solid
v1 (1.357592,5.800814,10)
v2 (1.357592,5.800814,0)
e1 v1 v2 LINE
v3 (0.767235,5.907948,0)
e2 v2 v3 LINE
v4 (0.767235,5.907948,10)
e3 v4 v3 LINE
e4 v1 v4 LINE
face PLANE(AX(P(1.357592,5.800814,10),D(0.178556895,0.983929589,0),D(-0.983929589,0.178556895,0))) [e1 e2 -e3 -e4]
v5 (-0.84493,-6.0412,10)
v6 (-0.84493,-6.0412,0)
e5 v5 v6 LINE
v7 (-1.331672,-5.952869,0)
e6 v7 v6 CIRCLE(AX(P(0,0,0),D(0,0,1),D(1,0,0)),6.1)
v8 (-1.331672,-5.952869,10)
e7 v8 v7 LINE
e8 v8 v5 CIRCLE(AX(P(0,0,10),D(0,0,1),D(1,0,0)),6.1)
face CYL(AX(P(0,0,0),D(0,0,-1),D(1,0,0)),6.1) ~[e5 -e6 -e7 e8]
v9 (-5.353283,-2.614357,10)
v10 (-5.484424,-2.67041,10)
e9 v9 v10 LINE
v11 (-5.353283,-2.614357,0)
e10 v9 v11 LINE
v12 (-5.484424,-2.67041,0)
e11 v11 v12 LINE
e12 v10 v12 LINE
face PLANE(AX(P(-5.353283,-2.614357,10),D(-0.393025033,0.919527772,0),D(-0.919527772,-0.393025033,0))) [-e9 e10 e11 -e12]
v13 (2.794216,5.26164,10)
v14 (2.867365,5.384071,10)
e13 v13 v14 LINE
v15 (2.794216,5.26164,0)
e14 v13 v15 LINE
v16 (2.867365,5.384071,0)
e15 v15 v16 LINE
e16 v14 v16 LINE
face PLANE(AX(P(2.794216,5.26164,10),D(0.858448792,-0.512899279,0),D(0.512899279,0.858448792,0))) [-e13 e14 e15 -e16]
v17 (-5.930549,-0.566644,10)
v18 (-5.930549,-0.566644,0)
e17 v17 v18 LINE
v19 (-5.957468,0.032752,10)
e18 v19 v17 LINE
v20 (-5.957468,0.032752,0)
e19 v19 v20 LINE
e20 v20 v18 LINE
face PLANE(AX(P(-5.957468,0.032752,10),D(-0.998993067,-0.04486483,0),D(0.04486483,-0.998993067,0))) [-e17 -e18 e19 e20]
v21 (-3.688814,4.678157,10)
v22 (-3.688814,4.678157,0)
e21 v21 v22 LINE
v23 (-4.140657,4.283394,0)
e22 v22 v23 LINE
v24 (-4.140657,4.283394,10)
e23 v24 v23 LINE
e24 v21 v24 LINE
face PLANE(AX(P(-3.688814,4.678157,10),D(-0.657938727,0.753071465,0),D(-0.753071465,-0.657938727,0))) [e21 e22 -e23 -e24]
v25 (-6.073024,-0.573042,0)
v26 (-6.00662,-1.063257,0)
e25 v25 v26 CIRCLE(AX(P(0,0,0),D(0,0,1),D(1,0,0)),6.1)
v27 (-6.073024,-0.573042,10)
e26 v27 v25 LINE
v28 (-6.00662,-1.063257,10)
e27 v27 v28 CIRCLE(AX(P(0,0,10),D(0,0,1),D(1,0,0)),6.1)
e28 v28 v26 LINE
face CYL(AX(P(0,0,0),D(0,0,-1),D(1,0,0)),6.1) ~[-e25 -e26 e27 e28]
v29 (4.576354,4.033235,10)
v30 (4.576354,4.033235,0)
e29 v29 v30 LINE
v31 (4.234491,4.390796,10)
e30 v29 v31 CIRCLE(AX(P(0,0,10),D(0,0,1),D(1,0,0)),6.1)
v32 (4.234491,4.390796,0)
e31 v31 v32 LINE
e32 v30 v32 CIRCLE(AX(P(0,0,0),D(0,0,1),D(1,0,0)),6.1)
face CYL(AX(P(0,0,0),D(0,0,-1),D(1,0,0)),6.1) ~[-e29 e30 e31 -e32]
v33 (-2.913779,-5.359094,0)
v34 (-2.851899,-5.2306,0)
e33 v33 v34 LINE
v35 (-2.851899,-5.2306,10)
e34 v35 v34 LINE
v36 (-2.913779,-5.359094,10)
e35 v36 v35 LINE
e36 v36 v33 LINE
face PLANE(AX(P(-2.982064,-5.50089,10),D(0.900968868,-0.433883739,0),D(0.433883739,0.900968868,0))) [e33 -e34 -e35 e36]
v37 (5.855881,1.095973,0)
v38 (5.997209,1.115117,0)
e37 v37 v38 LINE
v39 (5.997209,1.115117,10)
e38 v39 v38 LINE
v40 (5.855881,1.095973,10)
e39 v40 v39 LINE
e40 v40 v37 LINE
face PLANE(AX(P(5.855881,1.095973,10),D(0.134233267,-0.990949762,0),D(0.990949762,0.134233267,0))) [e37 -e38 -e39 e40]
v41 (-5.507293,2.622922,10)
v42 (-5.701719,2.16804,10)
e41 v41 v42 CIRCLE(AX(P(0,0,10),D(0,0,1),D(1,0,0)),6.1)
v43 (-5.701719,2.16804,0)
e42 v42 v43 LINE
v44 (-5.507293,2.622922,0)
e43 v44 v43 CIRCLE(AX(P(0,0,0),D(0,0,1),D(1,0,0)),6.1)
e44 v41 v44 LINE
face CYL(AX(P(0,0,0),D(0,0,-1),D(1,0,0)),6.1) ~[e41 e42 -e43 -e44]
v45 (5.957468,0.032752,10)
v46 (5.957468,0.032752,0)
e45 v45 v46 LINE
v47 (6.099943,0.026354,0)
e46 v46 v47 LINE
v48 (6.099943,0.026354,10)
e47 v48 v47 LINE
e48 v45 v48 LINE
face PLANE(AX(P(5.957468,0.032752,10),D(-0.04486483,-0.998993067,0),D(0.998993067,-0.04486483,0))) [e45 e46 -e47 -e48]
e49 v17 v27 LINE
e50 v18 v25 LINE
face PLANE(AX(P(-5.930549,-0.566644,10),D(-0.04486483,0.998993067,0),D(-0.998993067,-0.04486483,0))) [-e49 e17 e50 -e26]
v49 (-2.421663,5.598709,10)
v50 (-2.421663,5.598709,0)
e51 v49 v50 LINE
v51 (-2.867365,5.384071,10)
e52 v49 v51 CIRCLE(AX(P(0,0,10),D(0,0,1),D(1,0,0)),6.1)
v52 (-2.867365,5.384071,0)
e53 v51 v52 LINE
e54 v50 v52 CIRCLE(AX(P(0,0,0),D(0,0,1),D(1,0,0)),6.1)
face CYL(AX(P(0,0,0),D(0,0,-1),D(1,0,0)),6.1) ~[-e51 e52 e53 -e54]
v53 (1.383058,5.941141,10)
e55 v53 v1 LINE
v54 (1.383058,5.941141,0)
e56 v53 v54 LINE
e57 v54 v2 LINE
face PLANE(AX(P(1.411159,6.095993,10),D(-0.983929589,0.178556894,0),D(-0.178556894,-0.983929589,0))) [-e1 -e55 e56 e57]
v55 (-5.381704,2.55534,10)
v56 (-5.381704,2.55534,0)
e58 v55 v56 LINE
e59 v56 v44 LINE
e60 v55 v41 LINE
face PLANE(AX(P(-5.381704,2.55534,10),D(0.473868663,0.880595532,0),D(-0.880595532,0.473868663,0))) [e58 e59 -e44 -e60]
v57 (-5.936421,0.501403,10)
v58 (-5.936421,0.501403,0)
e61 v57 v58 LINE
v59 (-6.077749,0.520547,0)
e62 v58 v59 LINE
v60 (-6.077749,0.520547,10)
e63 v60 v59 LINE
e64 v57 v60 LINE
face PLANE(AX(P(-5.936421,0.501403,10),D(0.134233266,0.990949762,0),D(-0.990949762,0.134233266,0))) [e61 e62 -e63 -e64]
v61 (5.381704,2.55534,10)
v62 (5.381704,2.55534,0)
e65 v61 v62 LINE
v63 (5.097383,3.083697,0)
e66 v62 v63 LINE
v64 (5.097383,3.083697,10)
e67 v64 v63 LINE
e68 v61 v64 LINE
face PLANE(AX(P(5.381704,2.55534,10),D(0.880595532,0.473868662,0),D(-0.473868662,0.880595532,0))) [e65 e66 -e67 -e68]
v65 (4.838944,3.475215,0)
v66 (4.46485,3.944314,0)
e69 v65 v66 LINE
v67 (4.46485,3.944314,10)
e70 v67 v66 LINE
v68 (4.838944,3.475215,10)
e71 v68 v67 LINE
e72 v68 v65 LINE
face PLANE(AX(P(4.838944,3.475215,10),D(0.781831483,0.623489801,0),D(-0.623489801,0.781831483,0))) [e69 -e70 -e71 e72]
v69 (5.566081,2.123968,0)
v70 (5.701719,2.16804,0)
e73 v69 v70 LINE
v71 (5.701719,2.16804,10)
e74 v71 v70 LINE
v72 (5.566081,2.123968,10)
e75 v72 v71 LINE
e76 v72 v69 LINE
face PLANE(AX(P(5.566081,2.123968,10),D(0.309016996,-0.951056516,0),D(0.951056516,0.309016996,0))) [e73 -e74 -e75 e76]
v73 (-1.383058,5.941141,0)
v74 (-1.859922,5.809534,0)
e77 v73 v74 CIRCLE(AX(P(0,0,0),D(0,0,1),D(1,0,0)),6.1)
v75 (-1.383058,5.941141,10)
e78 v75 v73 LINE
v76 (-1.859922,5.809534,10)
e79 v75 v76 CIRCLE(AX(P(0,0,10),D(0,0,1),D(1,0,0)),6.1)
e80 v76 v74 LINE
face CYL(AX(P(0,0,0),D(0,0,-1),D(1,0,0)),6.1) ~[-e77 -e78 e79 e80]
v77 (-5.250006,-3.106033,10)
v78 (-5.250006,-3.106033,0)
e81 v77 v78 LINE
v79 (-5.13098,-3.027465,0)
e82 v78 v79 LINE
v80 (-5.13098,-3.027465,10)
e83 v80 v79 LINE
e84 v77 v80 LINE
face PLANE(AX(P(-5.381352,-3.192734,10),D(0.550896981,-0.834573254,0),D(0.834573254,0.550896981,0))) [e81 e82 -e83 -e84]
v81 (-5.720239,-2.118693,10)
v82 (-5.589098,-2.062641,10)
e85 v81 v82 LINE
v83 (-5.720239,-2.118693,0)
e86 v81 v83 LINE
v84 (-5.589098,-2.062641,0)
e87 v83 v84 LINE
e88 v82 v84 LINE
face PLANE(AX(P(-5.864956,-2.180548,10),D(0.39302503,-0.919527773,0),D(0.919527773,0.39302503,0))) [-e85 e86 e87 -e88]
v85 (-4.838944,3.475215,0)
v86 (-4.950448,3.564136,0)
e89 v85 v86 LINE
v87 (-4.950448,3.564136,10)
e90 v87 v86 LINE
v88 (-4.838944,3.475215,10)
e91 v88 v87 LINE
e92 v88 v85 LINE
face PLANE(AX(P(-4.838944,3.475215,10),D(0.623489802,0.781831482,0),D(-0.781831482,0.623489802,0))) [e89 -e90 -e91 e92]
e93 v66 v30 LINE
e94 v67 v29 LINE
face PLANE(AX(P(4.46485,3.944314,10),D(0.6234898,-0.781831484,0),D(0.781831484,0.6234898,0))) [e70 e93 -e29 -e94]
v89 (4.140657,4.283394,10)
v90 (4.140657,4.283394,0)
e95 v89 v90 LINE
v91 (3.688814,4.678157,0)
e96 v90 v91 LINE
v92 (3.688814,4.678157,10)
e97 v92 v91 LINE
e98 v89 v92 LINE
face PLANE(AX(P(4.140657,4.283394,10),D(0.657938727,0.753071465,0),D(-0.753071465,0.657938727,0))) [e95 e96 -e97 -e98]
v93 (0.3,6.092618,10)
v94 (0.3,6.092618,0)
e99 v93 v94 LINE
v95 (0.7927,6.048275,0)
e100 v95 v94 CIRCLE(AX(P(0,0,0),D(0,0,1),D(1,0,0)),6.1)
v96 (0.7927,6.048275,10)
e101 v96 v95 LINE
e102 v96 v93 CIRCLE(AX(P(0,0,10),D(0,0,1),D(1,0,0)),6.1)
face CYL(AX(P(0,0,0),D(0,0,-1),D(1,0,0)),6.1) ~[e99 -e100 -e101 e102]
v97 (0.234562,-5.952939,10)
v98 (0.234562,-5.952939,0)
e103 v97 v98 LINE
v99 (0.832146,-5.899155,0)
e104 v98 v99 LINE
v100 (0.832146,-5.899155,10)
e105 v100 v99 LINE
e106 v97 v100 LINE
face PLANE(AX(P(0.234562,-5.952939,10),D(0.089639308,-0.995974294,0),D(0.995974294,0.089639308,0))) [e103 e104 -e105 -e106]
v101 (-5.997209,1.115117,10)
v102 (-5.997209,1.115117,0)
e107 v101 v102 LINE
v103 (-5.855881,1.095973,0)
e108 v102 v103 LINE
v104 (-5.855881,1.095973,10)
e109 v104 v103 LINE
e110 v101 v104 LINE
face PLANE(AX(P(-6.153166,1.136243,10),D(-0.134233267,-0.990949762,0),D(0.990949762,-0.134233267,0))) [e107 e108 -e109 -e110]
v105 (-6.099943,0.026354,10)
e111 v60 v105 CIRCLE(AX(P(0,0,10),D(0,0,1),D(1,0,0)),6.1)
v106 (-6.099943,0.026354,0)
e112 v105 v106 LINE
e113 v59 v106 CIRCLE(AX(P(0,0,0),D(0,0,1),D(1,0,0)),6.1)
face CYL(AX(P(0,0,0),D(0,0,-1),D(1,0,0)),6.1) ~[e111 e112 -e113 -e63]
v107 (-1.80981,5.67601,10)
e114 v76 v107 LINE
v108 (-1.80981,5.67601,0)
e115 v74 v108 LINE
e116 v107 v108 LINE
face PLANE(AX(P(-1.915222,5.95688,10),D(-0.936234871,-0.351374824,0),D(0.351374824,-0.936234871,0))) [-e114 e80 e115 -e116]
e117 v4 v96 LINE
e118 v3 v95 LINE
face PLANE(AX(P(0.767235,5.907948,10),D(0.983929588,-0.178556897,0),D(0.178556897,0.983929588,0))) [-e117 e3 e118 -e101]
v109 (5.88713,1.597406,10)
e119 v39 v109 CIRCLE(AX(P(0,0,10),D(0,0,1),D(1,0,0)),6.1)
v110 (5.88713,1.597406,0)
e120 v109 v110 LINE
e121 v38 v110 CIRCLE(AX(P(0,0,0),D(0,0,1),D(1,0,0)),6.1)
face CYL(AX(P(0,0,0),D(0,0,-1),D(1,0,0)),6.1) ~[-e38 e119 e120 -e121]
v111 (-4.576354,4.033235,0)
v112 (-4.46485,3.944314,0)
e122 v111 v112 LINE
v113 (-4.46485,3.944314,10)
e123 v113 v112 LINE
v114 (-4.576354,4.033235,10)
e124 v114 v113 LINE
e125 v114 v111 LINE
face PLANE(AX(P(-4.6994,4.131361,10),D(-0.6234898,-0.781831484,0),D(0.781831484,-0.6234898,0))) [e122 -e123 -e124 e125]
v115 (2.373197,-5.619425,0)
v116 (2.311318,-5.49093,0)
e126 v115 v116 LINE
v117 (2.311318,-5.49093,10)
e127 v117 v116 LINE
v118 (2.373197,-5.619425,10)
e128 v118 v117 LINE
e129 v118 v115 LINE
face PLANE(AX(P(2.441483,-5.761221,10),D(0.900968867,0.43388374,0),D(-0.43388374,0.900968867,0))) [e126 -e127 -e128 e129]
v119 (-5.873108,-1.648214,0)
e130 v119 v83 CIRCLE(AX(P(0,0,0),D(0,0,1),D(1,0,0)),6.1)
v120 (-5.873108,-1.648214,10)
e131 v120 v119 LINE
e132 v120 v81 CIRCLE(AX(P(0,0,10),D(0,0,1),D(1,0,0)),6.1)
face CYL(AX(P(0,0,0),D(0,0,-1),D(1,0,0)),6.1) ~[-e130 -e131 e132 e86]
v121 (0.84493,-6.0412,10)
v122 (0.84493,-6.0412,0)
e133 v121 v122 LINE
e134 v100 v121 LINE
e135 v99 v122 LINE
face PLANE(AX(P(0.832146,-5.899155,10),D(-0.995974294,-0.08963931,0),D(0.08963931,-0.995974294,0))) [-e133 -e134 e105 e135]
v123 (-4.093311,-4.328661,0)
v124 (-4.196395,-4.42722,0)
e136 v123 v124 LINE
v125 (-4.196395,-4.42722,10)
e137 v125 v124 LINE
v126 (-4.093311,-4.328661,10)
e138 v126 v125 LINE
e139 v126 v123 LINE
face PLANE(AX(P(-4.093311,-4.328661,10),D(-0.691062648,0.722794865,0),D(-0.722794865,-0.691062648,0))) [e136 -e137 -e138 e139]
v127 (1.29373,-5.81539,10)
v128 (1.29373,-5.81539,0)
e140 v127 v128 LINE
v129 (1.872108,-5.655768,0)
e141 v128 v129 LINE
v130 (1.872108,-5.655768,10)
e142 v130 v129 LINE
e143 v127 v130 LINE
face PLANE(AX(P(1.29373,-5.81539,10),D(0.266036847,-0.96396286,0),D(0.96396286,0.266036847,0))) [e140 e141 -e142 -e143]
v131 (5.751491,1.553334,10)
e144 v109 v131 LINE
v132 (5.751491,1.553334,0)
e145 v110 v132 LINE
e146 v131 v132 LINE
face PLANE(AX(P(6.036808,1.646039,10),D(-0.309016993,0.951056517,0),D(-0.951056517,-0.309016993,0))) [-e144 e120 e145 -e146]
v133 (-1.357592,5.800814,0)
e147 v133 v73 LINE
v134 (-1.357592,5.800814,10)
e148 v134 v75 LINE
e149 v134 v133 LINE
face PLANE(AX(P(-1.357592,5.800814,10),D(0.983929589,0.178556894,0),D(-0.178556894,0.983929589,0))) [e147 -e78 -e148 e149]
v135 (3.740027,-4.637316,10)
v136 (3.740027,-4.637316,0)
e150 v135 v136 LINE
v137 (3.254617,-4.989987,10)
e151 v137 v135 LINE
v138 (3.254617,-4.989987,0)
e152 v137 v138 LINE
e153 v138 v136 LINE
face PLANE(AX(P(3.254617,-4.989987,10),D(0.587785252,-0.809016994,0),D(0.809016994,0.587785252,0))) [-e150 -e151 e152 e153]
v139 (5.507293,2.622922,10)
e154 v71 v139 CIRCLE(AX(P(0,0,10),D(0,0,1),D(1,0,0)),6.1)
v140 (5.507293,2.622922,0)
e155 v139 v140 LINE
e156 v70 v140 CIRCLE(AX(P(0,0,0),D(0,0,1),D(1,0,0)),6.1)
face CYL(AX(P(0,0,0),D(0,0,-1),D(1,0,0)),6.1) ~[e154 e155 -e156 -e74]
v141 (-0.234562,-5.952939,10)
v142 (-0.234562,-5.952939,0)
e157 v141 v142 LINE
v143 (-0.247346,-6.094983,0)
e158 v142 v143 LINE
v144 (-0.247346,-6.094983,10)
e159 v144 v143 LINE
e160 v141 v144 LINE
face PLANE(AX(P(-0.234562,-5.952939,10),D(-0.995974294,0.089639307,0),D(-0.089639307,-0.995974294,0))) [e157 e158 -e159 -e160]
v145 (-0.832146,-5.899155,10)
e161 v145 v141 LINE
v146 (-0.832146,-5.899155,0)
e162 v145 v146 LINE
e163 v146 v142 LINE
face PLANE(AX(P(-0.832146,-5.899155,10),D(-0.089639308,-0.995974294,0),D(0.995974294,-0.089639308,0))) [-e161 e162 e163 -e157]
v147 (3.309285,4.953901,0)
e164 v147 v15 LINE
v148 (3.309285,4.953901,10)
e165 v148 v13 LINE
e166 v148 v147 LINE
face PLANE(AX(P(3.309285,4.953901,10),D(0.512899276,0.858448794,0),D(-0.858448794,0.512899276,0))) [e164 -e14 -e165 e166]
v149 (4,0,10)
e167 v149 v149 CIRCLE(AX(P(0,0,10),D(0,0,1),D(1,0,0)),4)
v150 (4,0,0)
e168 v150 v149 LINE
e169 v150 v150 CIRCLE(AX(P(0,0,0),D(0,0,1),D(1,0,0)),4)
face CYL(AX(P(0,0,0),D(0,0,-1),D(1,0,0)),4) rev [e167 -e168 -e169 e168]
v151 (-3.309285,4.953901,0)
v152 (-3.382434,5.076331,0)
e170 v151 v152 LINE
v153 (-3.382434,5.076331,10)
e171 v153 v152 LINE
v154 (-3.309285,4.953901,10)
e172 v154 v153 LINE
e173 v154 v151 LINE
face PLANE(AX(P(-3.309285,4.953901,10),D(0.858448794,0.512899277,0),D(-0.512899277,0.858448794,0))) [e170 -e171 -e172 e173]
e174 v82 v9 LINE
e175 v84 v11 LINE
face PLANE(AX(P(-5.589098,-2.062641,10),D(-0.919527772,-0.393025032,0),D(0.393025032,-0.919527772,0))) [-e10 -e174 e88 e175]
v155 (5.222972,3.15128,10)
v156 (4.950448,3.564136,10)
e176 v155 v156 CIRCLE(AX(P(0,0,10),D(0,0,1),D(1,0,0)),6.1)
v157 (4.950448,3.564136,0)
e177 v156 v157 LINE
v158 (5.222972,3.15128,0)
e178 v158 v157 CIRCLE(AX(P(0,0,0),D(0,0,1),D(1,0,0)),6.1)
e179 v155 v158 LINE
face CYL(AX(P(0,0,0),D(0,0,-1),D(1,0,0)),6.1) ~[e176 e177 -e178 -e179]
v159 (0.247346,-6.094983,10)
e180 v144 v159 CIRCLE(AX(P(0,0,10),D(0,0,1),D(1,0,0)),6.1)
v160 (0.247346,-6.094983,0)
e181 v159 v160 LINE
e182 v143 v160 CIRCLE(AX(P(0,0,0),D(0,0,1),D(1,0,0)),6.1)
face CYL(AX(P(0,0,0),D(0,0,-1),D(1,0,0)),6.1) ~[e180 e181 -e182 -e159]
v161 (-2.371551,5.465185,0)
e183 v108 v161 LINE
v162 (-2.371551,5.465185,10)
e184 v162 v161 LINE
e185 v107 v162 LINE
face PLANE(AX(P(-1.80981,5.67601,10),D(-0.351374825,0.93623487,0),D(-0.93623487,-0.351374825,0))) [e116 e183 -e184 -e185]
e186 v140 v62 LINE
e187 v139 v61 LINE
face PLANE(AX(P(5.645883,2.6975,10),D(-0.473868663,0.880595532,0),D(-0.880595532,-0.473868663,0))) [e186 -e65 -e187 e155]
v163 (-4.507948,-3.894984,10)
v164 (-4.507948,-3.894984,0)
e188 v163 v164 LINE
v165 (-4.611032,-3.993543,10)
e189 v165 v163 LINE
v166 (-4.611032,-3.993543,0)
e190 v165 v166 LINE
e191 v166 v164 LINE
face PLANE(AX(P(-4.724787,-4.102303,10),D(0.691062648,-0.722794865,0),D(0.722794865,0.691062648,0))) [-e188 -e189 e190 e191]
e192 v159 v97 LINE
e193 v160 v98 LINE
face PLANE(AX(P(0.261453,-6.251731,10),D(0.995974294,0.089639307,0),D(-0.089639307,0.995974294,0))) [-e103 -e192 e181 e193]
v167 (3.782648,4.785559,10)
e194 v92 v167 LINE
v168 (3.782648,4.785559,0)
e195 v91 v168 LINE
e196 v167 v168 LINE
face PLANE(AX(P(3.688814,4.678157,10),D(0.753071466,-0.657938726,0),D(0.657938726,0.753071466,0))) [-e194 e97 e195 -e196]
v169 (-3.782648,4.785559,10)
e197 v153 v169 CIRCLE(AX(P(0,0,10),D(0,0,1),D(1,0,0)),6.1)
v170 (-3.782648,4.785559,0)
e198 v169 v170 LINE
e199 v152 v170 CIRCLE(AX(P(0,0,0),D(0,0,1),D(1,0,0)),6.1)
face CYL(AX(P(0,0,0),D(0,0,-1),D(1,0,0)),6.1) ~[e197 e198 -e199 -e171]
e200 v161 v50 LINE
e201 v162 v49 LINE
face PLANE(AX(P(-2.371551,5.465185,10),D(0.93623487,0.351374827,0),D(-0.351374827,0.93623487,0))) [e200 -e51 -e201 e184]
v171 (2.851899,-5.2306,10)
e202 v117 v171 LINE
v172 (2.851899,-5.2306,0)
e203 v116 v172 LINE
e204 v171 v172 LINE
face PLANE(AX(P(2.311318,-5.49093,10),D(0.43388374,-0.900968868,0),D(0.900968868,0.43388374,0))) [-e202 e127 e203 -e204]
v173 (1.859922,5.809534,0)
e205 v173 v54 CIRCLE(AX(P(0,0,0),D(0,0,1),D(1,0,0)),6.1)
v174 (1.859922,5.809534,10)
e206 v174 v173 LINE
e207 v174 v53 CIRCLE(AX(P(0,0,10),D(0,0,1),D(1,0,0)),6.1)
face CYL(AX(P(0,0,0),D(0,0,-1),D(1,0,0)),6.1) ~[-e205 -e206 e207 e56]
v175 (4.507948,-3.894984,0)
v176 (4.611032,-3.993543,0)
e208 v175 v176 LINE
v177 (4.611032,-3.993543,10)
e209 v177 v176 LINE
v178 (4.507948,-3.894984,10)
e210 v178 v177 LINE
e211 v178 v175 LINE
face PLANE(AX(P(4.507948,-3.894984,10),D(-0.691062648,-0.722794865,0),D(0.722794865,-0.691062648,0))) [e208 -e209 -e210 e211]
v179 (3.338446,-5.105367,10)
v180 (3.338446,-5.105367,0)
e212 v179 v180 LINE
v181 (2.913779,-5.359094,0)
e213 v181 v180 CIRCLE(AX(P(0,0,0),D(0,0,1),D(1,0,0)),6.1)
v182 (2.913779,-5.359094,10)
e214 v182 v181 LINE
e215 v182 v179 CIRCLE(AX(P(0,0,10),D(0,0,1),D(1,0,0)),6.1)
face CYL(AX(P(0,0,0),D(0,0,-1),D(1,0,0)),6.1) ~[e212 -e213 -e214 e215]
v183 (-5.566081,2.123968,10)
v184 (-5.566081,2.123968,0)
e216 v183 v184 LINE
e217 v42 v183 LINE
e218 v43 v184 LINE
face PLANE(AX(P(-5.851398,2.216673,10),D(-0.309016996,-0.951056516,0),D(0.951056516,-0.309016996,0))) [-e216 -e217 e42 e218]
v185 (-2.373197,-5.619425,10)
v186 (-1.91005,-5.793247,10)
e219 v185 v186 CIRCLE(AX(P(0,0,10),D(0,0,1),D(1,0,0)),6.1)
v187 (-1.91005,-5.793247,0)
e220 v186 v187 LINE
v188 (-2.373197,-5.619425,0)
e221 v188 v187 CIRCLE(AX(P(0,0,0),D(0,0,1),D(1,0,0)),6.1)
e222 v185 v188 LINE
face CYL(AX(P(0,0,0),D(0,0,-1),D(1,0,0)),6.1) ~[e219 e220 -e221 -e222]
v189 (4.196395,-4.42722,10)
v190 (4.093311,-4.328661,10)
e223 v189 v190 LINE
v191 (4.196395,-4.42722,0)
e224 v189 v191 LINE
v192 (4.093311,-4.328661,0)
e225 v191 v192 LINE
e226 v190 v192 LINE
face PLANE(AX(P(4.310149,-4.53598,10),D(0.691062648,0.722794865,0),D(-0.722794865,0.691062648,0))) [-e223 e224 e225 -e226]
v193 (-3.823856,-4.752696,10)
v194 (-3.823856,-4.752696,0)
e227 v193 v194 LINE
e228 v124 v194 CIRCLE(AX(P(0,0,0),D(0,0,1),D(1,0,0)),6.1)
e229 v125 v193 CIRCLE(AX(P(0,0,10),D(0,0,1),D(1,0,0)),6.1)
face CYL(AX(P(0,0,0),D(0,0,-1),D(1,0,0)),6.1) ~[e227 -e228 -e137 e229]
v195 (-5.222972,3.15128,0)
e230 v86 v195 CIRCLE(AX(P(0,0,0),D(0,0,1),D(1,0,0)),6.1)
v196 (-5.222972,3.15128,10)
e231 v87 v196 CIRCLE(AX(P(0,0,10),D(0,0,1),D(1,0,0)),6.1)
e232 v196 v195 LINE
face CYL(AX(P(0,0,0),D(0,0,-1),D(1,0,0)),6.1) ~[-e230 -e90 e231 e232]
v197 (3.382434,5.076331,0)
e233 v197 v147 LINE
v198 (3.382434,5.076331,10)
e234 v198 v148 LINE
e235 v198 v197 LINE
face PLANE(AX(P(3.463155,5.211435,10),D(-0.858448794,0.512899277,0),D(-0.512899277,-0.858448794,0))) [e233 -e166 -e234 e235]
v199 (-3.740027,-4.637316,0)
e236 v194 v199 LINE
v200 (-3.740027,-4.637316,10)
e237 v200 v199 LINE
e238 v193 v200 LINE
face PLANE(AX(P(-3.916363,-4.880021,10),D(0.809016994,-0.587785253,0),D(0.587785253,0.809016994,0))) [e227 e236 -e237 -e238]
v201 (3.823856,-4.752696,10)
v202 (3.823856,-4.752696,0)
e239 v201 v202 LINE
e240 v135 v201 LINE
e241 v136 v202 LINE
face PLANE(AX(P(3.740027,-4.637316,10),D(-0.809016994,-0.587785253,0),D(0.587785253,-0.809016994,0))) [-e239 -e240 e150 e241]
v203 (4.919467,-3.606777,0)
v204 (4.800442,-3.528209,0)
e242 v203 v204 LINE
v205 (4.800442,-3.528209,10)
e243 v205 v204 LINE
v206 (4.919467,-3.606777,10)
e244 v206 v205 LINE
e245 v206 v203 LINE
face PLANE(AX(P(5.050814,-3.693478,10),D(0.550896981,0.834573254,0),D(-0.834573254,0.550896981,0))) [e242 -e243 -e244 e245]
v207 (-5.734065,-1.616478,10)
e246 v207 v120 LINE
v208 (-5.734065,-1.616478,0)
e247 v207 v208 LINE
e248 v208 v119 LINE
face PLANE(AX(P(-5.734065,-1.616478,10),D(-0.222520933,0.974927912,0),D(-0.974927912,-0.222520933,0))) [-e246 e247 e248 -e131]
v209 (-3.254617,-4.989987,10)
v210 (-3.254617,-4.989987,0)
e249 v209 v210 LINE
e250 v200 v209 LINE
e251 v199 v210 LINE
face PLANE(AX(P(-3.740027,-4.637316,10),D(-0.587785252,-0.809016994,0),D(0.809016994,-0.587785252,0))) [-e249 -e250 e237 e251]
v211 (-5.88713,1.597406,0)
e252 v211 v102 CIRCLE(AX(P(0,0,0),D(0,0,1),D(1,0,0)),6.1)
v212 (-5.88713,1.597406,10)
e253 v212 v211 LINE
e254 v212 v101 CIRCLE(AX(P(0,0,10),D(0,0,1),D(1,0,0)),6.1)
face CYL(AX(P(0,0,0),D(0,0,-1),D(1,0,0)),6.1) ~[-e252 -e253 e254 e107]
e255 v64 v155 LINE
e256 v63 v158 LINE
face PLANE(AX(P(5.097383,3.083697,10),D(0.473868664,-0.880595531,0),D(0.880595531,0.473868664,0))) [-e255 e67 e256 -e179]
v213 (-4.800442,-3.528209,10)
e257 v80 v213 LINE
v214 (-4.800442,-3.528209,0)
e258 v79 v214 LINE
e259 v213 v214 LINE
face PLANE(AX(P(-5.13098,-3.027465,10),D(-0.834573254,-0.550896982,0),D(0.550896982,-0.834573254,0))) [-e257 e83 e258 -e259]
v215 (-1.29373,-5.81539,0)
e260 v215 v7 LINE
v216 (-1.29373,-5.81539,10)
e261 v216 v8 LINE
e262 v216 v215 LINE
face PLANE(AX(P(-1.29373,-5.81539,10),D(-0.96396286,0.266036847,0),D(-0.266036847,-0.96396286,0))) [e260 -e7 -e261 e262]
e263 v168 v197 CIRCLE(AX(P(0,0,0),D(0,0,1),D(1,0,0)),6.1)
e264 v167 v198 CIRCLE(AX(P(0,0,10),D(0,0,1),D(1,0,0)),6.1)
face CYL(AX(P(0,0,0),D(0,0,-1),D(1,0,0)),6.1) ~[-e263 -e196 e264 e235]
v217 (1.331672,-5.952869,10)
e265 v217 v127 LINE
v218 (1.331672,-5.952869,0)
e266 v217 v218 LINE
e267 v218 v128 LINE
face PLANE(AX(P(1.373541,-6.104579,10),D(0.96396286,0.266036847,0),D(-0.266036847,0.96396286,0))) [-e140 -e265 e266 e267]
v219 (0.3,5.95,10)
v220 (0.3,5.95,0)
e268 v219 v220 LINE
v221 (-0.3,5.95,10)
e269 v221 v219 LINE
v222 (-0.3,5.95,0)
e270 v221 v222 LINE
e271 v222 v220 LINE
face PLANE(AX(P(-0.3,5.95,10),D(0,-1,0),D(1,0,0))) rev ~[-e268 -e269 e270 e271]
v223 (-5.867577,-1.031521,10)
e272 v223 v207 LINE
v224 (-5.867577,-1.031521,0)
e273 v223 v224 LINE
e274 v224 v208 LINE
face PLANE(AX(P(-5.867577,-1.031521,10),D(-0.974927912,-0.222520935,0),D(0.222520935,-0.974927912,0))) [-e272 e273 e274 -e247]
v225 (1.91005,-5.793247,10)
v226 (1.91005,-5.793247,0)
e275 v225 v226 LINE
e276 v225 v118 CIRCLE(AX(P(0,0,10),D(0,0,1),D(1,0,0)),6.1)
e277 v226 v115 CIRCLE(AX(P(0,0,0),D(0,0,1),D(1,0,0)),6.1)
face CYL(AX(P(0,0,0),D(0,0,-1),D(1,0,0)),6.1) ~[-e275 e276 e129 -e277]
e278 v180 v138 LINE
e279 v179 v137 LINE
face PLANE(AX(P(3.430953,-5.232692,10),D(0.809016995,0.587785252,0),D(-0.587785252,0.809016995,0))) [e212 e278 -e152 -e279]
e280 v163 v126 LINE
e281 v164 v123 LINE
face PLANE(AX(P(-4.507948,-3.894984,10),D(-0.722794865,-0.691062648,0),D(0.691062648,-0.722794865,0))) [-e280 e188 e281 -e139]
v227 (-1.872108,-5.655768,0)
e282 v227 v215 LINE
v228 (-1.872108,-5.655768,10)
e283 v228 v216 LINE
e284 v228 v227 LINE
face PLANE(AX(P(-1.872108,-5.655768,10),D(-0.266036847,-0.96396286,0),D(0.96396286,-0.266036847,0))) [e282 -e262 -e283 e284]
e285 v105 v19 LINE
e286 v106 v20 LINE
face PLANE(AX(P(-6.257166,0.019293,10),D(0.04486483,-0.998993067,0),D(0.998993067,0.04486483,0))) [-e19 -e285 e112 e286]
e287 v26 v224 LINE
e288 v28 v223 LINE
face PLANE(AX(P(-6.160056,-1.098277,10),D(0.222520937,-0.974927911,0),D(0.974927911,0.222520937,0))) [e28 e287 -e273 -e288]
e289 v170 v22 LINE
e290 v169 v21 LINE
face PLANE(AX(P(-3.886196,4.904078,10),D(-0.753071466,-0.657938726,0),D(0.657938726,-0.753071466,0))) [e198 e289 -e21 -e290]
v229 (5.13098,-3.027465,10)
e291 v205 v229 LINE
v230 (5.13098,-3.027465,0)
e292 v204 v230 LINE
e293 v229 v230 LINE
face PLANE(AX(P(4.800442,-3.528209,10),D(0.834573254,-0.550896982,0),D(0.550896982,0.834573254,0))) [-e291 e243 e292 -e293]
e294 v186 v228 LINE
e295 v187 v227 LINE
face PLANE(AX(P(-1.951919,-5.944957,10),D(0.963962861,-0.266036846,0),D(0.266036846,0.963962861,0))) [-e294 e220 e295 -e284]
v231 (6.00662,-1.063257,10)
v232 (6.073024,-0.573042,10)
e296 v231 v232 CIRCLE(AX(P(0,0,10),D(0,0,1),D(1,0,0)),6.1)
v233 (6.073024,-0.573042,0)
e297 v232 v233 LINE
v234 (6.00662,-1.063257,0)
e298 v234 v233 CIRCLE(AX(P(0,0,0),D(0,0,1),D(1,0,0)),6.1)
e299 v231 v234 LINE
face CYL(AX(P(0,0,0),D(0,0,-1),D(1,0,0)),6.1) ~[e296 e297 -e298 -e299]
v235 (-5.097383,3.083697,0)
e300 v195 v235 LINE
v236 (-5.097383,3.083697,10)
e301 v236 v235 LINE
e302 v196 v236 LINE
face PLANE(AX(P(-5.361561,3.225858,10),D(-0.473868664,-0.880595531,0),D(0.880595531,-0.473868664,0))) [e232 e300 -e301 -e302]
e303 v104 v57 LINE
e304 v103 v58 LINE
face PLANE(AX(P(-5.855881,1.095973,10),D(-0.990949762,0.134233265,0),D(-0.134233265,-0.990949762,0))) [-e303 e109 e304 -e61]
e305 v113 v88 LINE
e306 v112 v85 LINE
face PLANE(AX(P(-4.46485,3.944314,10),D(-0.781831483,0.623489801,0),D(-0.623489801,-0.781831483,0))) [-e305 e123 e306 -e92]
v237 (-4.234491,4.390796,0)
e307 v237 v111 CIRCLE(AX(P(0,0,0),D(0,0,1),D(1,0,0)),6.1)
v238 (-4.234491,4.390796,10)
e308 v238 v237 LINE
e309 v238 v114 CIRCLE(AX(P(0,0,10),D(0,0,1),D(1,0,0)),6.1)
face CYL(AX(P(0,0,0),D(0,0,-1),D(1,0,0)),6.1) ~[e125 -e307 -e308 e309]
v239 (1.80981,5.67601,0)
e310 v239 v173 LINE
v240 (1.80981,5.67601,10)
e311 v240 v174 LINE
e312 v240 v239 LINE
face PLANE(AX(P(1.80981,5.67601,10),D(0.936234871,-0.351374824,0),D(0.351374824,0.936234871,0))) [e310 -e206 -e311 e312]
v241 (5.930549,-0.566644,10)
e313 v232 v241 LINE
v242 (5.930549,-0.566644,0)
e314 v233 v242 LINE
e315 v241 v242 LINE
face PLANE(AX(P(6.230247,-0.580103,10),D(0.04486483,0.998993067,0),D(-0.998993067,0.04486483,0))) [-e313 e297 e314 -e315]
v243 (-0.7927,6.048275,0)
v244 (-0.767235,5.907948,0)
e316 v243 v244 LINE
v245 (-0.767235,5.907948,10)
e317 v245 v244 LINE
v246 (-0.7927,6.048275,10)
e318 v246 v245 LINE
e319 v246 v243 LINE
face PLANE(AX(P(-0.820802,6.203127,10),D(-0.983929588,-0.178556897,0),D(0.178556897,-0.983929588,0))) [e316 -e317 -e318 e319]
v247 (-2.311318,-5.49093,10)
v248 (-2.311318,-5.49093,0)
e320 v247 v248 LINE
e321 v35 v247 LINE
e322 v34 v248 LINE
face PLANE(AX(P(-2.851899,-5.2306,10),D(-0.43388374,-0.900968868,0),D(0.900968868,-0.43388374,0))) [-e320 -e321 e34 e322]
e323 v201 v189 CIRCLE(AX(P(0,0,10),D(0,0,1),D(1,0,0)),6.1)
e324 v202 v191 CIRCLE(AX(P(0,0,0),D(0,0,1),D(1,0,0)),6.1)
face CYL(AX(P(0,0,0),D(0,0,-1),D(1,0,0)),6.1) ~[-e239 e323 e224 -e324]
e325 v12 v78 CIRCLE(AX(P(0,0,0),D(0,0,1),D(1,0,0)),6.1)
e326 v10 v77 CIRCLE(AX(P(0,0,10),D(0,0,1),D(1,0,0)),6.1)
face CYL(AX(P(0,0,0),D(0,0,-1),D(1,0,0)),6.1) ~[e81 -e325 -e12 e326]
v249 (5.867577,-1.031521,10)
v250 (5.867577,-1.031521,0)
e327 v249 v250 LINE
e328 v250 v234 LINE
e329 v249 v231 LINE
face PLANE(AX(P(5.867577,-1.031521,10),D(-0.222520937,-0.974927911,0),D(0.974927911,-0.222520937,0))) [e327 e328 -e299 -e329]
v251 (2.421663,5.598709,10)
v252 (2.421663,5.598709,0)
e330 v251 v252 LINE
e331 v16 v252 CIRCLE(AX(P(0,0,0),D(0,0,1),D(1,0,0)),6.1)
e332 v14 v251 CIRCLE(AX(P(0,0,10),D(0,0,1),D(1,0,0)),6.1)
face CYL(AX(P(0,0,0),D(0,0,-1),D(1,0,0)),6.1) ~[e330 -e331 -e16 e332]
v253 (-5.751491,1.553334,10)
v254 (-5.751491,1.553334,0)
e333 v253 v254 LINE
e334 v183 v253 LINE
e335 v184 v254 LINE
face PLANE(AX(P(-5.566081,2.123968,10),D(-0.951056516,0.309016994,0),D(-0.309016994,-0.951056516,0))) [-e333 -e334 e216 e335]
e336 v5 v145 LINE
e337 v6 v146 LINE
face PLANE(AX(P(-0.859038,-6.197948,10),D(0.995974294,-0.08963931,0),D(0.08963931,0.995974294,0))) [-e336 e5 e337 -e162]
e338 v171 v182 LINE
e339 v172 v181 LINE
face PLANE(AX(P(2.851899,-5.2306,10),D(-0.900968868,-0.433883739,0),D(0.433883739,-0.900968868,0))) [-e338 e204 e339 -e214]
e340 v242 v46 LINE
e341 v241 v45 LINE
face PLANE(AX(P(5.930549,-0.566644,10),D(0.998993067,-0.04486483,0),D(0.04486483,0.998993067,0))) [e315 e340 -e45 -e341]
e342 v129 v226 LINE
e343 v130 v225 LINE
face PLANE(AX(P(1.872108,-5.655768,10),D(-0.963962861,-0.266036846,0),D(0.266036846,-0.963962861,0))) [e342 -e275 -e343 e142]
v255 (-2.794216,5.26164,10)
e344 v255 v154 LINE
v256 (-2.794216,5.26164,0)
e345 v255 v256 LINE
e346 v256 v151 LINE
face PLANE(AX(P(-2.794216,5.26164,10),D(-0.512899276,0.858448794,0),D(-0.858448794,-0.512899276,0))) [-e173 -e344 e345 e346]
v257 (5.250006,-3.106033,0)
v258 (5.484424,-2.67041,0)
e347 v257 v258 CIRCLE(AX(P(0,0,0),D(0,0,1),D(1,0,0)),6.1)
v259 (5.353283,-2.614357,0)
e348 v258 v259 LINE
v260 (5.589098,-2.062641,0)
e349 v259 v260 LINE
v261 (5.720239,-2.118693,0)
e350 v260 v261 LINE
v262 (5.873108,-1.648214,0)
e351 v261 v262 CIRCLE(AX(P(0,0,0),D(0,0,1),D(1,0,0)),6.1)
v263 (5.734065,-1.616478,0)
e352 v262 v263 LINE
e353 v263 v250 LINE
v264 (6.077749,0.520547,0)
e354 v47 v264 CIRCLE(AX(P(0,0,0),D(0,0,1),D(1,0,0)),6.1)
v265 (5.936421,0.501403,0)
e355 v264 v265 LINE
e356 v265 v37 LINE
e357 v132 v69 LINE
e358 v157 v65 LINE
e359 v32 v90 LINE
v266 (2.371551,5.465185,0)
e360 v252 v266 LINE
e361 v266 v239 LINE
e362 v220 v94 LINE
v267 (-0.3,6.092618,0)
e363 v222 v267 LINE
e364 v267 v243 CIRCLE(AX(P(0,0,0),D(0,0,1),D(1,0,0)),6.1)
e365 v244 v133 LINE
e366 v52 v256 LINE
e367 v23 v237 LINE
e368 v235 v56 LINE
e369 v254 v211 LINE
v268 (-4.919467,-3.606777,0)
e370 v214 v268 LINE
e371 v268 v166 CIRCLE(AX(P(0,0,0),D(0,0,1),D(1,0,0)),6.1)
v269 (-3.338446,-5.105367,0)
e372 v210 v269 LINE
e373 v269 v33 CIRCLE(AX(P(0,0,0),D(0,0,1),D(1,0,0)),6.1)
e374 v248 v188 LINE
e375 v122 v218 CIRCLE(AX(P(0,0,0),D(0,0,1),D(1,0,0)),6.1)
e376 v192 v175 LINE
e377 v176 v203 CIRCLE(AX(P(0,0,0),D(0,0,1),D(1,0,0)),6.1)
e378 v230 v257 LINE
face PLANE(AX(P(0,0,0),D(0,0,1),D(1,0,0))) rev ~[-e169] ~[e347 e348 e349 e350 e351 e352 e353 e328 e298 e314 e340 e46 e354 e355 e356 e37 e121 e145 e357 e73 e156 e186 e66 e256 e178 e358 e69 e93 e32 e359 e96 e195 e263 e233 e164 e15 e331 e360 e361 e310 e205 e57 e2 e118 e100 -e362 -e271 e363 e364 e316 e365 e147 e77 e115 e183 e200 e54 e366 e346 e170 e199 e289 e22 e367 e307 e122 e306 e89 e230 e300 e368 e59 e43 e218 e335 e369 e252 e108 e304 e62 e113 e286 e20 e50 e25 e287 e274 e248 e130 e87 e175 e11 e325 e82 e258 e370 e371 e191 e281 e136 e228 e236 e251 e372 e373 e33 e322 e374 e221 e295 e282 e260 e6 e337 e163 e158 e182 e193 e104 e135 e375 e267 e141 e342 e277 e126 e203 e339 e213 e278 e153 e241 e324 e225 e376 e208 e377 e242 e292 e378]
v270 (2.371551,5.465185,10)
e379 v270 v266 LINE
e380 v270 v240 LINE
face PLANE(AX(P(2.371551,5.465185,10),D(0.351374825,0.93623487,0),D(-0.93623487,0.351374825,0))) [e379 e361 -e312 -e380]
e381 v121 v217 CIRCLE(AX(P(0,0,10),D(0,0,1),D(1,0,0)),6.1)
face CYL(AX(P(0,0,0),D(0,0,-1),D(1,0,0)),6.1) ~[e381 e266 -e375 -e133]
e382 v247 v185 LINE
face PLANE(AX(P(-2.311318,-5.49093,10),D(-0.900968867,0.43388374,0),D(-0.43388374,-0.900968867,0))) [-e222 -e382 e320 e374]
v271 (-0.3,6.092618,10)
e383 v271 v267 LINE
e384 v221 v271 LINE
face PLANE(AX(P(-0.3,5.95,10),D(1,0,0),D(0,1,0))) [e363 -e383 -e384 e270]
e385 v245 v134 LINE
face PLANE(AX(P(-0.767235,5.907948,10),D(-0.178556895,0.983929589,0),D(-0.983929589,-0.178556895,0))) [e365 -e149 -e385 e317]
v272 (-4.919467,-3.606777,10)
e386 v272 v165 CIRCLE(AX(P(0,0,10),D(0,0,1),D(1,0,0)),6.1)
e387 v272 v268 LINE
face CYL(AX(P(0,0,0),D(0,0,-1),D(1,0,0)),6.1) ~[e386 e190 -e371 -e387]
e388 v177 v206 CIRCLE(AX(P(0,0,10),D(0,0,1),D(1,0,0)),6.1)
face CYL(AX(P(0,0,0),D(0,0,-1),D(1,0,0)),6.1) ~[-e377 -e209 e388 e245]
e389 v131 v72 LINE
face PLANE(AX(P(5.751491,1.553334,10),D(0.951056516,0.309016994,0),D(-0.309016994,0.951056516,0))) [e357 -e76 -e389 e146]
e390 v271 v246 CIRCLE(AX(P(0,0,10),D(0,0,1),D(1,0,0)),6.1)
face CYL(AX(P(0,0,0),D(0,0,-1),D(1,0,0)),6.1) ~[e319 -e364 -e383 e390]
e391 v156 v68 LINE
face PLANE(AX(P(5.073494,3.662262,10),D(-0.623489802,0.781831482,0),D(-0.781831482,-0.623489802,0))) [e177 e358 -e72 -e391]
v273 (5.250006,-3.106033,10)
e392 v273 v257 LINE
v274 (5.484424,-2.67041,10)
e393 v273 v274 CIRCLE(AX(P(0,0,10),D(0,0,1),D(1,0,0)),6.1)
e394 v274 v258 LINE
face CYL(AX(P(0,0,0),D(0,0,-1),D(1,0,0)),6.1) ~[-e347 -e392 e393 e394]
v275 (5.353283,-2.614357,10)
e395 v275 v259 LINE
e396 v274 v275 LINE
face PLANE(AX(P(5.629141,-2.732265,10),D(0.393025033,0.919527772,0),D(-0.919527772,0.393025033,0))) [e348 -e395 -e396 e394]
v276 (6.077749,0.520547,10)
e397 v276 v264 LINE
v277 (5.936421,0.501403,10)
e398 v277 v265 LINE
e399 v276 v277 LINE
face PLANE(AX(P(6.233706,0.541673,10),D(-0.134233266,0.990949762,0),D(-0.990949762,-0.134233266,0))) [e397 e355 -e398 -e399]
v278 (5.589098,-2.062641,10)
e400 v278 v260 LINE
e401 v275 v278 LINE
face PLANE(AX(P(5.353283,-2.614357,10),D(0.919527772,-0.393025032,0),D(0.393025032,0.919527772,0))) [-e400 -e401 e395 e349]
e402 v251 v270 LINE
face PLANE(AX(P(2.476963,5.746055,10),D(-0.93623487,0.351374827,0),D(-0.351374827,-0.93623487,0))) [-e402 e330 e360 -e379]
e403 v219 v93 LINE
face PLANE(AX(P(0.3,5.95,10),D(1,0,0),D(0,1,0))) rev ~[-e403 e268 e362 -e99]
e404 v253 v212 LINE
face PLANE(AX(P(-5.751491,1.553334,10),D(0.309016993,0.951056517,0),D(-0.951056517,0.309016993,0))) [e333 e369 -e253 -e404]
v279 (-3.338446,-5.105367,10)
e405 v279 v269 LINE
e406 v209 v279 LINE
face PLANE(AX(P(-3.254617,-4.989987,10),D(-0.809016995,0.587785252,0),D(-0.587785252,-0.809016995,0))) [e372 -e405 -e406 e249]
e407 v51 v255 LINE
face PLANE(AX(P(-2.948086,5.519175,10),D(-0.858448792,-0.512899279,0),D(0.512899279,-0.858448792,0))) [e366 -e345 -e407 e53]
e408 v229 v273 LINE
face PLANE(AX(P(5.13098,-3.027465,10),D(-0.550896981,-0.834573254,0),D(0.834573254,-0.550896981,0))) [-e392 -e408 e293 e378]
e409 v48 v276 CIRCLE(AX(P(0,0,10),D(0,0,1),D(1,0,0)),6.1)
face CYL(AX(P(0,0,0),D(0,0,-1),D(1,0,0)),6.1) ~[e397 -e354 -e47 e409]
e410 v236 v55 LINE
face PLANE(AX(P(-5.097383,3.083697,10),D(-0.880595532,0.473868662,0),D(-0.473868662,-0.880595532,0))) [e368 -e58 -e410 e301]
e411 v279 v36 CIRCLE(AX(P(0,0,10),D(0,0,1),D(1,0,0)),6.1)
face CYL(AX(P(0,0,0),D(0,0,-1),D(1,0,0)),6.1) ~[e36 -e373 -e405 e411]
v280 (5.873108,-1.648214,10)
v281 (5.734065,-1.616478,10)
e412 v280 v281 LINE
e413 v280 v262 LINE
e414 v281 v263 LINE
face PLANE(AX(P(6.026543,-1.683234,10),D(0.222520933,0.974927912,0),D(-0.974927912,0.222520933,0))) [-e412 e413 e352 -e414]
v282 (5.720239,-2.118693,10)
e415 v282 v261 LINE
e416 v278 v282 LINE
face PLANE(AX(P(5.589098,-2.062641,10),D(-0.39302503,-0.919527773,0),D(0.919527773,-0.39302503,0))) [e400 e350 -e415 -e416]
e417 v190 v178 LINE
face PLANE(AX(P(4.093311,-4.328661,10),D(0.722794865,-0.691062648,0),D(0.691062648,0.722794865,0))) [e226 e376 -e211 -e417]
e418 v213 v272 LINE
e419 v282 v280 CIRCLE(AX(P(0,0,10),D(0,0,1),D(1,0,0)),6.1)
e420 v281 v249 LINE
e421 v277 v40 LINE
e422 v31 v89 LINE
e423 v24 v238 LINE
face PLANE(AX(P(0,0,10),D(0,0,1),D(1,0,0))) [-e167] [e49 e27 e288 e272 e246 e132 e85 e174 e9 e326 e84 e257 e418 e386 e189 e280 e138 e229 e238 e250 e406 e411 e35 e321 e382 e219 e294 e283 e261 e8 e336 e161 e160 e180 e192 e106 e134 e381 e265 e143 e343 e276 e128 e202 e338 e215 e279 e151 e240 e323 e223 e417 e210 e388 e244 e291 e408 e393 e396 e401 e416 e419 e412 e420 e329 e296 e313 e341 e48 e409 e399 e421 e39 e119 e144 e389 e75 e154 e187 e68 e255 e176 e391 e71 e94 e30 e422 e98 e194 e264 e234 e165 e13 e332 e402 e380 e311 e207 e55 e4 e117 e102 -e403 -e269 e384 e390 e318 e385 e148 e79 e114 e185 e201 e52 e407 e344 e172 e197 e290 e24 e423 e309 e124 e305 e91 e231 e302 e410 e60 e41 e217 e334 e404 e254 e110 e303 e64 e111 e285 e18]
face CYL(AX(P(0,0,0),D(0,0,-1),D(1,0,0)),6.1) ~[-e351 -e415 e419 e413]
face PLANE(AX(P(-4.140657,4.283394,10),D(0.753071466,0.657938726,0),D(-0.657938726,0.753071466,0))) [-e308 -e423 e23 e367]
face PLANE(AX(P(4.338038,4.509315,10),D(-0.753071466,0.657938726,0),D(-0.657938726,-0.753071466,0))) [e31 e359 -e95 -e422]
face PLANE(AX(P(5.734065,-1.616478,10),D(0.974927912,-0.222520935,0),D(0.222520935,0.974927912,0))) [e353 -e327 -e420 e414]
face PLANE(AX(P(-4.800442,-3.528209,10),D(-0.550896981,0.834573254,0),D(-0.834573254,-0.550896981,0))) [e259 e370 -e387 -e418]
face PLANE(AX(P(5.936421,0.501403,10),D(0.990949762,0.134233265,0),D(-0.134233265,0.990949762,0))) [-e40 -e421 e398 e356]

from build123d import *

# Parameters (mm, degrees)
ESQUISSE1_R             = 6.1
ESQUISSE1_R_2           = 4
BOSS_EXTRU_1_DEPTH      = 10
ESQUISSE4_W             = 0.6
ESQUISSE4_H             = 0.3
ENL_V_MAT_EXTRU_3_DEPTH = 10


with BuildPart() as part:
    # Esquisse1 → Boss.-Extru.1 (new body)
    with BuildSketch(Plane.XY):
        Circle(ESQUISSE1_R)
        Circle(ESQUISSE1_R_2, mode=Mode.SUBTRACT)
    extrude(amount=BOSS_EXTRU_1_DEPTH)

    # Esquisse4 → Enlèv. mat.-Extru.3 (cut)
    with BuildSketch(Plane.XY.offset(10)):
        Polygon((0.767234647, 5.907948121), (0.820801716, 6.203126997), (1.411159469, 6.09599286), (1.357592401, 5.800813984), align=None)
        with Locations((0, 6.1)):
            Rectangle(ESQUISSE4_W, ESQUISSE4_H)
        Polygon((1.809809742, 5.676009928), (1.915222189, 5.956880389), (2.476963112, 5.746055494), (2.371550664, 5.465185033), align=None)
        Polygon((2.794216062, 5.261640105), (2.948085846, 5.519174743), (3.463155122, 5.211435177), (3.309285339, 4.953900539), align=None)
        Polygon((3.68881398, 4.678156841), (3.886195597, 4.90407828), (4.338038477, 4.509315045), (4.140656859, 4.283393605), align=None)
        Polygon((4.46485038, 3.944313766), (4.699399825, 4.131360706), (5.073493706, 3.662261817), (4.838944261, 3.475214876), align=None)
        Polygon((5.097382816, 3.083697201), (5.361561475, 3.2258578), (5.645882673, 2.697500481), (5.381704013, 2.555339882), align=None)
        Polygon((5.566081174, 2.123968071), (5.851398129, 2.21667317), (6.036808325, 1.64603926), (5.75149137, 1.553334162), align=None)
        Polygon((5.855881103, 1.09597286), (6.153166031, 1.13624284), (6.233705991, 0.541672983), (5.936421062, 0.501403003), align=None)
        Polygon((5.957468195, 0.032752179), (6.257166115, 0.01929273), (6.230247217, -0.58010311), (5.930549297, -0.566643661), align=None)
        Polygon((5.867577358, -1.031521183), (6.160055731, -1.098277464), (6.026543171, -1.683234211), (5.734064797, -1.616477931), align=None)
        Polygon((5.589097756, -2.062640607), (5.864956088, -2.180548116), (5.629141069, -2.73226478), (5.353282737, -2.61435727), align=None)
        Polygon((5.130979954, -3.027465064), (5.38135193, -3.192734158), (5.050813741, -3.69347811), (4.800441765, -3.528209016), align=None)
        Polygon((4.507948234, -3.894984302), (4.724786694, -4.102303097), (4.310149104, -4.535980015), (4.093310645, -4.328661221), align=None)
        Polygon((3.740027349, -4.637315541), (3.916362925, -4.880020639), (3.430952729, -5.232691791), (3.254617153, -4.989986692), align=None)
        Polygon((2.851898908, -5.230599642), (2.98206403, -5.500890303), (2.441482709, -5.761220546), (2.311317587, -5.490929886), align=None)
        Polygon((1.872108089, -5.655767967), (1.951919143, -5.944956826), (1.373541427, -6.104578933), (1.293730373, -5.815390075), align=None)
        Polygon((0.832146176, -5.899155257), (0.859037969, -6.197947545), (0.261453392, -6.25173113), (0.2345616, -5.952938842), align=None)
        Polygon((-0.2345616, -5.952938842), (-0.261453392, -6.25173113), (-0.859037969, -6.197947545), (-0.832146176, -5.899155257), align=None)
        Polygon((-1.293730373, -5.815390075), (-1.373541427, -6.104578933), (-1.951919143, -5.944956826), (-1.872108089, -5.655767967), align=None)
        Polygon((-2.311317587, -5.490929886), (-2.441482709, -5.761220546), (-2.98206403, -5.500890303), (-2.851898908, -5.230599642), align=None)
        Polygon((-3.254617153, -4.989986692), (-3.430952729, -5.232691791), (-3.916362925, -4.880020639), (-3.740027349, -4.637315541), align=None)
        Polygon((-4.093310645, -4.328661221), (-4.310149104, -4.535980015), (-4.724786694, -4.102303097), (-4.507948234, -3.894984302), align=None)
        Polygon((-4.800441765, -3.528209016), (-5.050813741, -3.69347811), (-5.38135193, -3.192734158), (-5.130979954, -3.027465064), align=None)
        Polygon((-5.353282737, -2.61435727), (-5.629141069, -2.73226478), (-5.864956088, -2.180548116), (-5.589097756, -2.062640607), align=None)
        Polygon((-5.734064797, -1.616477931), (-6.026543171, -1.683234211), (-6.160055731, -1.098277464), (-5.867577358, -1.031521183), align=None)
        Polygon((-5.930549297, -0.566643661), (-6.230247217, -0.58010311), (-6.257166115, 0.01929273), (-5.957468195, 0.032752179), align=None)
        Polygon((-5.936421062, 0.501403003), (-6.233705991, 0.541672983), (-6.153166031, 1.13624284), (-5.855881103, 1.09597286), align=None)
        Polygon((-5.75149137, 1.553334162), (-6.036808325, 1.64603926), (-5.851398129, 2.21667317), (-5.566081174, 2.123968071), align=None)
        Polygon((-5.381704013, 2.555339882), (-5.645882673, 2.697500481), (-5.361561475, 3.2258578), (-5.097382816, 3.083697201), align=None)
        Polygon((-4.838944261, 3.475214876), (-5.073493706, 3.662261817), (-4.699399825, 4.131360706), (-4.46485038, 3.944313766), align=None)
        Polygon((-4.140656859, 4.283393605), (-4.338038477, 4.509315045), (-3.886195597, 4.90407828), (-3.68881398, 4.678156841), align=None)
        Polygon((-3.309285339, 4.953900539), (-3.463155122, 5.211435177), (-2.948085846, 5.519174743), (-2.794216062, 5.261640105), align=None)
        Polygon((-2.371550664, 5.465185033), (-2.476963112, 5.746055494), (-1.915222189, 5.956880389), (-1.809809742, 5.676009928), align=None)
        Polygon((-1.357592401, 5.800813984), (-1.411159469, 6.09599286), (-0.820801716, 6.203126997), (-0.767234647, 5.907948121), align=None)
    extrude(amount=-ENL_V_MAT_EXTRU_3_DEPTH, mode=Mode.SUBTRACT)


solid = part.part
